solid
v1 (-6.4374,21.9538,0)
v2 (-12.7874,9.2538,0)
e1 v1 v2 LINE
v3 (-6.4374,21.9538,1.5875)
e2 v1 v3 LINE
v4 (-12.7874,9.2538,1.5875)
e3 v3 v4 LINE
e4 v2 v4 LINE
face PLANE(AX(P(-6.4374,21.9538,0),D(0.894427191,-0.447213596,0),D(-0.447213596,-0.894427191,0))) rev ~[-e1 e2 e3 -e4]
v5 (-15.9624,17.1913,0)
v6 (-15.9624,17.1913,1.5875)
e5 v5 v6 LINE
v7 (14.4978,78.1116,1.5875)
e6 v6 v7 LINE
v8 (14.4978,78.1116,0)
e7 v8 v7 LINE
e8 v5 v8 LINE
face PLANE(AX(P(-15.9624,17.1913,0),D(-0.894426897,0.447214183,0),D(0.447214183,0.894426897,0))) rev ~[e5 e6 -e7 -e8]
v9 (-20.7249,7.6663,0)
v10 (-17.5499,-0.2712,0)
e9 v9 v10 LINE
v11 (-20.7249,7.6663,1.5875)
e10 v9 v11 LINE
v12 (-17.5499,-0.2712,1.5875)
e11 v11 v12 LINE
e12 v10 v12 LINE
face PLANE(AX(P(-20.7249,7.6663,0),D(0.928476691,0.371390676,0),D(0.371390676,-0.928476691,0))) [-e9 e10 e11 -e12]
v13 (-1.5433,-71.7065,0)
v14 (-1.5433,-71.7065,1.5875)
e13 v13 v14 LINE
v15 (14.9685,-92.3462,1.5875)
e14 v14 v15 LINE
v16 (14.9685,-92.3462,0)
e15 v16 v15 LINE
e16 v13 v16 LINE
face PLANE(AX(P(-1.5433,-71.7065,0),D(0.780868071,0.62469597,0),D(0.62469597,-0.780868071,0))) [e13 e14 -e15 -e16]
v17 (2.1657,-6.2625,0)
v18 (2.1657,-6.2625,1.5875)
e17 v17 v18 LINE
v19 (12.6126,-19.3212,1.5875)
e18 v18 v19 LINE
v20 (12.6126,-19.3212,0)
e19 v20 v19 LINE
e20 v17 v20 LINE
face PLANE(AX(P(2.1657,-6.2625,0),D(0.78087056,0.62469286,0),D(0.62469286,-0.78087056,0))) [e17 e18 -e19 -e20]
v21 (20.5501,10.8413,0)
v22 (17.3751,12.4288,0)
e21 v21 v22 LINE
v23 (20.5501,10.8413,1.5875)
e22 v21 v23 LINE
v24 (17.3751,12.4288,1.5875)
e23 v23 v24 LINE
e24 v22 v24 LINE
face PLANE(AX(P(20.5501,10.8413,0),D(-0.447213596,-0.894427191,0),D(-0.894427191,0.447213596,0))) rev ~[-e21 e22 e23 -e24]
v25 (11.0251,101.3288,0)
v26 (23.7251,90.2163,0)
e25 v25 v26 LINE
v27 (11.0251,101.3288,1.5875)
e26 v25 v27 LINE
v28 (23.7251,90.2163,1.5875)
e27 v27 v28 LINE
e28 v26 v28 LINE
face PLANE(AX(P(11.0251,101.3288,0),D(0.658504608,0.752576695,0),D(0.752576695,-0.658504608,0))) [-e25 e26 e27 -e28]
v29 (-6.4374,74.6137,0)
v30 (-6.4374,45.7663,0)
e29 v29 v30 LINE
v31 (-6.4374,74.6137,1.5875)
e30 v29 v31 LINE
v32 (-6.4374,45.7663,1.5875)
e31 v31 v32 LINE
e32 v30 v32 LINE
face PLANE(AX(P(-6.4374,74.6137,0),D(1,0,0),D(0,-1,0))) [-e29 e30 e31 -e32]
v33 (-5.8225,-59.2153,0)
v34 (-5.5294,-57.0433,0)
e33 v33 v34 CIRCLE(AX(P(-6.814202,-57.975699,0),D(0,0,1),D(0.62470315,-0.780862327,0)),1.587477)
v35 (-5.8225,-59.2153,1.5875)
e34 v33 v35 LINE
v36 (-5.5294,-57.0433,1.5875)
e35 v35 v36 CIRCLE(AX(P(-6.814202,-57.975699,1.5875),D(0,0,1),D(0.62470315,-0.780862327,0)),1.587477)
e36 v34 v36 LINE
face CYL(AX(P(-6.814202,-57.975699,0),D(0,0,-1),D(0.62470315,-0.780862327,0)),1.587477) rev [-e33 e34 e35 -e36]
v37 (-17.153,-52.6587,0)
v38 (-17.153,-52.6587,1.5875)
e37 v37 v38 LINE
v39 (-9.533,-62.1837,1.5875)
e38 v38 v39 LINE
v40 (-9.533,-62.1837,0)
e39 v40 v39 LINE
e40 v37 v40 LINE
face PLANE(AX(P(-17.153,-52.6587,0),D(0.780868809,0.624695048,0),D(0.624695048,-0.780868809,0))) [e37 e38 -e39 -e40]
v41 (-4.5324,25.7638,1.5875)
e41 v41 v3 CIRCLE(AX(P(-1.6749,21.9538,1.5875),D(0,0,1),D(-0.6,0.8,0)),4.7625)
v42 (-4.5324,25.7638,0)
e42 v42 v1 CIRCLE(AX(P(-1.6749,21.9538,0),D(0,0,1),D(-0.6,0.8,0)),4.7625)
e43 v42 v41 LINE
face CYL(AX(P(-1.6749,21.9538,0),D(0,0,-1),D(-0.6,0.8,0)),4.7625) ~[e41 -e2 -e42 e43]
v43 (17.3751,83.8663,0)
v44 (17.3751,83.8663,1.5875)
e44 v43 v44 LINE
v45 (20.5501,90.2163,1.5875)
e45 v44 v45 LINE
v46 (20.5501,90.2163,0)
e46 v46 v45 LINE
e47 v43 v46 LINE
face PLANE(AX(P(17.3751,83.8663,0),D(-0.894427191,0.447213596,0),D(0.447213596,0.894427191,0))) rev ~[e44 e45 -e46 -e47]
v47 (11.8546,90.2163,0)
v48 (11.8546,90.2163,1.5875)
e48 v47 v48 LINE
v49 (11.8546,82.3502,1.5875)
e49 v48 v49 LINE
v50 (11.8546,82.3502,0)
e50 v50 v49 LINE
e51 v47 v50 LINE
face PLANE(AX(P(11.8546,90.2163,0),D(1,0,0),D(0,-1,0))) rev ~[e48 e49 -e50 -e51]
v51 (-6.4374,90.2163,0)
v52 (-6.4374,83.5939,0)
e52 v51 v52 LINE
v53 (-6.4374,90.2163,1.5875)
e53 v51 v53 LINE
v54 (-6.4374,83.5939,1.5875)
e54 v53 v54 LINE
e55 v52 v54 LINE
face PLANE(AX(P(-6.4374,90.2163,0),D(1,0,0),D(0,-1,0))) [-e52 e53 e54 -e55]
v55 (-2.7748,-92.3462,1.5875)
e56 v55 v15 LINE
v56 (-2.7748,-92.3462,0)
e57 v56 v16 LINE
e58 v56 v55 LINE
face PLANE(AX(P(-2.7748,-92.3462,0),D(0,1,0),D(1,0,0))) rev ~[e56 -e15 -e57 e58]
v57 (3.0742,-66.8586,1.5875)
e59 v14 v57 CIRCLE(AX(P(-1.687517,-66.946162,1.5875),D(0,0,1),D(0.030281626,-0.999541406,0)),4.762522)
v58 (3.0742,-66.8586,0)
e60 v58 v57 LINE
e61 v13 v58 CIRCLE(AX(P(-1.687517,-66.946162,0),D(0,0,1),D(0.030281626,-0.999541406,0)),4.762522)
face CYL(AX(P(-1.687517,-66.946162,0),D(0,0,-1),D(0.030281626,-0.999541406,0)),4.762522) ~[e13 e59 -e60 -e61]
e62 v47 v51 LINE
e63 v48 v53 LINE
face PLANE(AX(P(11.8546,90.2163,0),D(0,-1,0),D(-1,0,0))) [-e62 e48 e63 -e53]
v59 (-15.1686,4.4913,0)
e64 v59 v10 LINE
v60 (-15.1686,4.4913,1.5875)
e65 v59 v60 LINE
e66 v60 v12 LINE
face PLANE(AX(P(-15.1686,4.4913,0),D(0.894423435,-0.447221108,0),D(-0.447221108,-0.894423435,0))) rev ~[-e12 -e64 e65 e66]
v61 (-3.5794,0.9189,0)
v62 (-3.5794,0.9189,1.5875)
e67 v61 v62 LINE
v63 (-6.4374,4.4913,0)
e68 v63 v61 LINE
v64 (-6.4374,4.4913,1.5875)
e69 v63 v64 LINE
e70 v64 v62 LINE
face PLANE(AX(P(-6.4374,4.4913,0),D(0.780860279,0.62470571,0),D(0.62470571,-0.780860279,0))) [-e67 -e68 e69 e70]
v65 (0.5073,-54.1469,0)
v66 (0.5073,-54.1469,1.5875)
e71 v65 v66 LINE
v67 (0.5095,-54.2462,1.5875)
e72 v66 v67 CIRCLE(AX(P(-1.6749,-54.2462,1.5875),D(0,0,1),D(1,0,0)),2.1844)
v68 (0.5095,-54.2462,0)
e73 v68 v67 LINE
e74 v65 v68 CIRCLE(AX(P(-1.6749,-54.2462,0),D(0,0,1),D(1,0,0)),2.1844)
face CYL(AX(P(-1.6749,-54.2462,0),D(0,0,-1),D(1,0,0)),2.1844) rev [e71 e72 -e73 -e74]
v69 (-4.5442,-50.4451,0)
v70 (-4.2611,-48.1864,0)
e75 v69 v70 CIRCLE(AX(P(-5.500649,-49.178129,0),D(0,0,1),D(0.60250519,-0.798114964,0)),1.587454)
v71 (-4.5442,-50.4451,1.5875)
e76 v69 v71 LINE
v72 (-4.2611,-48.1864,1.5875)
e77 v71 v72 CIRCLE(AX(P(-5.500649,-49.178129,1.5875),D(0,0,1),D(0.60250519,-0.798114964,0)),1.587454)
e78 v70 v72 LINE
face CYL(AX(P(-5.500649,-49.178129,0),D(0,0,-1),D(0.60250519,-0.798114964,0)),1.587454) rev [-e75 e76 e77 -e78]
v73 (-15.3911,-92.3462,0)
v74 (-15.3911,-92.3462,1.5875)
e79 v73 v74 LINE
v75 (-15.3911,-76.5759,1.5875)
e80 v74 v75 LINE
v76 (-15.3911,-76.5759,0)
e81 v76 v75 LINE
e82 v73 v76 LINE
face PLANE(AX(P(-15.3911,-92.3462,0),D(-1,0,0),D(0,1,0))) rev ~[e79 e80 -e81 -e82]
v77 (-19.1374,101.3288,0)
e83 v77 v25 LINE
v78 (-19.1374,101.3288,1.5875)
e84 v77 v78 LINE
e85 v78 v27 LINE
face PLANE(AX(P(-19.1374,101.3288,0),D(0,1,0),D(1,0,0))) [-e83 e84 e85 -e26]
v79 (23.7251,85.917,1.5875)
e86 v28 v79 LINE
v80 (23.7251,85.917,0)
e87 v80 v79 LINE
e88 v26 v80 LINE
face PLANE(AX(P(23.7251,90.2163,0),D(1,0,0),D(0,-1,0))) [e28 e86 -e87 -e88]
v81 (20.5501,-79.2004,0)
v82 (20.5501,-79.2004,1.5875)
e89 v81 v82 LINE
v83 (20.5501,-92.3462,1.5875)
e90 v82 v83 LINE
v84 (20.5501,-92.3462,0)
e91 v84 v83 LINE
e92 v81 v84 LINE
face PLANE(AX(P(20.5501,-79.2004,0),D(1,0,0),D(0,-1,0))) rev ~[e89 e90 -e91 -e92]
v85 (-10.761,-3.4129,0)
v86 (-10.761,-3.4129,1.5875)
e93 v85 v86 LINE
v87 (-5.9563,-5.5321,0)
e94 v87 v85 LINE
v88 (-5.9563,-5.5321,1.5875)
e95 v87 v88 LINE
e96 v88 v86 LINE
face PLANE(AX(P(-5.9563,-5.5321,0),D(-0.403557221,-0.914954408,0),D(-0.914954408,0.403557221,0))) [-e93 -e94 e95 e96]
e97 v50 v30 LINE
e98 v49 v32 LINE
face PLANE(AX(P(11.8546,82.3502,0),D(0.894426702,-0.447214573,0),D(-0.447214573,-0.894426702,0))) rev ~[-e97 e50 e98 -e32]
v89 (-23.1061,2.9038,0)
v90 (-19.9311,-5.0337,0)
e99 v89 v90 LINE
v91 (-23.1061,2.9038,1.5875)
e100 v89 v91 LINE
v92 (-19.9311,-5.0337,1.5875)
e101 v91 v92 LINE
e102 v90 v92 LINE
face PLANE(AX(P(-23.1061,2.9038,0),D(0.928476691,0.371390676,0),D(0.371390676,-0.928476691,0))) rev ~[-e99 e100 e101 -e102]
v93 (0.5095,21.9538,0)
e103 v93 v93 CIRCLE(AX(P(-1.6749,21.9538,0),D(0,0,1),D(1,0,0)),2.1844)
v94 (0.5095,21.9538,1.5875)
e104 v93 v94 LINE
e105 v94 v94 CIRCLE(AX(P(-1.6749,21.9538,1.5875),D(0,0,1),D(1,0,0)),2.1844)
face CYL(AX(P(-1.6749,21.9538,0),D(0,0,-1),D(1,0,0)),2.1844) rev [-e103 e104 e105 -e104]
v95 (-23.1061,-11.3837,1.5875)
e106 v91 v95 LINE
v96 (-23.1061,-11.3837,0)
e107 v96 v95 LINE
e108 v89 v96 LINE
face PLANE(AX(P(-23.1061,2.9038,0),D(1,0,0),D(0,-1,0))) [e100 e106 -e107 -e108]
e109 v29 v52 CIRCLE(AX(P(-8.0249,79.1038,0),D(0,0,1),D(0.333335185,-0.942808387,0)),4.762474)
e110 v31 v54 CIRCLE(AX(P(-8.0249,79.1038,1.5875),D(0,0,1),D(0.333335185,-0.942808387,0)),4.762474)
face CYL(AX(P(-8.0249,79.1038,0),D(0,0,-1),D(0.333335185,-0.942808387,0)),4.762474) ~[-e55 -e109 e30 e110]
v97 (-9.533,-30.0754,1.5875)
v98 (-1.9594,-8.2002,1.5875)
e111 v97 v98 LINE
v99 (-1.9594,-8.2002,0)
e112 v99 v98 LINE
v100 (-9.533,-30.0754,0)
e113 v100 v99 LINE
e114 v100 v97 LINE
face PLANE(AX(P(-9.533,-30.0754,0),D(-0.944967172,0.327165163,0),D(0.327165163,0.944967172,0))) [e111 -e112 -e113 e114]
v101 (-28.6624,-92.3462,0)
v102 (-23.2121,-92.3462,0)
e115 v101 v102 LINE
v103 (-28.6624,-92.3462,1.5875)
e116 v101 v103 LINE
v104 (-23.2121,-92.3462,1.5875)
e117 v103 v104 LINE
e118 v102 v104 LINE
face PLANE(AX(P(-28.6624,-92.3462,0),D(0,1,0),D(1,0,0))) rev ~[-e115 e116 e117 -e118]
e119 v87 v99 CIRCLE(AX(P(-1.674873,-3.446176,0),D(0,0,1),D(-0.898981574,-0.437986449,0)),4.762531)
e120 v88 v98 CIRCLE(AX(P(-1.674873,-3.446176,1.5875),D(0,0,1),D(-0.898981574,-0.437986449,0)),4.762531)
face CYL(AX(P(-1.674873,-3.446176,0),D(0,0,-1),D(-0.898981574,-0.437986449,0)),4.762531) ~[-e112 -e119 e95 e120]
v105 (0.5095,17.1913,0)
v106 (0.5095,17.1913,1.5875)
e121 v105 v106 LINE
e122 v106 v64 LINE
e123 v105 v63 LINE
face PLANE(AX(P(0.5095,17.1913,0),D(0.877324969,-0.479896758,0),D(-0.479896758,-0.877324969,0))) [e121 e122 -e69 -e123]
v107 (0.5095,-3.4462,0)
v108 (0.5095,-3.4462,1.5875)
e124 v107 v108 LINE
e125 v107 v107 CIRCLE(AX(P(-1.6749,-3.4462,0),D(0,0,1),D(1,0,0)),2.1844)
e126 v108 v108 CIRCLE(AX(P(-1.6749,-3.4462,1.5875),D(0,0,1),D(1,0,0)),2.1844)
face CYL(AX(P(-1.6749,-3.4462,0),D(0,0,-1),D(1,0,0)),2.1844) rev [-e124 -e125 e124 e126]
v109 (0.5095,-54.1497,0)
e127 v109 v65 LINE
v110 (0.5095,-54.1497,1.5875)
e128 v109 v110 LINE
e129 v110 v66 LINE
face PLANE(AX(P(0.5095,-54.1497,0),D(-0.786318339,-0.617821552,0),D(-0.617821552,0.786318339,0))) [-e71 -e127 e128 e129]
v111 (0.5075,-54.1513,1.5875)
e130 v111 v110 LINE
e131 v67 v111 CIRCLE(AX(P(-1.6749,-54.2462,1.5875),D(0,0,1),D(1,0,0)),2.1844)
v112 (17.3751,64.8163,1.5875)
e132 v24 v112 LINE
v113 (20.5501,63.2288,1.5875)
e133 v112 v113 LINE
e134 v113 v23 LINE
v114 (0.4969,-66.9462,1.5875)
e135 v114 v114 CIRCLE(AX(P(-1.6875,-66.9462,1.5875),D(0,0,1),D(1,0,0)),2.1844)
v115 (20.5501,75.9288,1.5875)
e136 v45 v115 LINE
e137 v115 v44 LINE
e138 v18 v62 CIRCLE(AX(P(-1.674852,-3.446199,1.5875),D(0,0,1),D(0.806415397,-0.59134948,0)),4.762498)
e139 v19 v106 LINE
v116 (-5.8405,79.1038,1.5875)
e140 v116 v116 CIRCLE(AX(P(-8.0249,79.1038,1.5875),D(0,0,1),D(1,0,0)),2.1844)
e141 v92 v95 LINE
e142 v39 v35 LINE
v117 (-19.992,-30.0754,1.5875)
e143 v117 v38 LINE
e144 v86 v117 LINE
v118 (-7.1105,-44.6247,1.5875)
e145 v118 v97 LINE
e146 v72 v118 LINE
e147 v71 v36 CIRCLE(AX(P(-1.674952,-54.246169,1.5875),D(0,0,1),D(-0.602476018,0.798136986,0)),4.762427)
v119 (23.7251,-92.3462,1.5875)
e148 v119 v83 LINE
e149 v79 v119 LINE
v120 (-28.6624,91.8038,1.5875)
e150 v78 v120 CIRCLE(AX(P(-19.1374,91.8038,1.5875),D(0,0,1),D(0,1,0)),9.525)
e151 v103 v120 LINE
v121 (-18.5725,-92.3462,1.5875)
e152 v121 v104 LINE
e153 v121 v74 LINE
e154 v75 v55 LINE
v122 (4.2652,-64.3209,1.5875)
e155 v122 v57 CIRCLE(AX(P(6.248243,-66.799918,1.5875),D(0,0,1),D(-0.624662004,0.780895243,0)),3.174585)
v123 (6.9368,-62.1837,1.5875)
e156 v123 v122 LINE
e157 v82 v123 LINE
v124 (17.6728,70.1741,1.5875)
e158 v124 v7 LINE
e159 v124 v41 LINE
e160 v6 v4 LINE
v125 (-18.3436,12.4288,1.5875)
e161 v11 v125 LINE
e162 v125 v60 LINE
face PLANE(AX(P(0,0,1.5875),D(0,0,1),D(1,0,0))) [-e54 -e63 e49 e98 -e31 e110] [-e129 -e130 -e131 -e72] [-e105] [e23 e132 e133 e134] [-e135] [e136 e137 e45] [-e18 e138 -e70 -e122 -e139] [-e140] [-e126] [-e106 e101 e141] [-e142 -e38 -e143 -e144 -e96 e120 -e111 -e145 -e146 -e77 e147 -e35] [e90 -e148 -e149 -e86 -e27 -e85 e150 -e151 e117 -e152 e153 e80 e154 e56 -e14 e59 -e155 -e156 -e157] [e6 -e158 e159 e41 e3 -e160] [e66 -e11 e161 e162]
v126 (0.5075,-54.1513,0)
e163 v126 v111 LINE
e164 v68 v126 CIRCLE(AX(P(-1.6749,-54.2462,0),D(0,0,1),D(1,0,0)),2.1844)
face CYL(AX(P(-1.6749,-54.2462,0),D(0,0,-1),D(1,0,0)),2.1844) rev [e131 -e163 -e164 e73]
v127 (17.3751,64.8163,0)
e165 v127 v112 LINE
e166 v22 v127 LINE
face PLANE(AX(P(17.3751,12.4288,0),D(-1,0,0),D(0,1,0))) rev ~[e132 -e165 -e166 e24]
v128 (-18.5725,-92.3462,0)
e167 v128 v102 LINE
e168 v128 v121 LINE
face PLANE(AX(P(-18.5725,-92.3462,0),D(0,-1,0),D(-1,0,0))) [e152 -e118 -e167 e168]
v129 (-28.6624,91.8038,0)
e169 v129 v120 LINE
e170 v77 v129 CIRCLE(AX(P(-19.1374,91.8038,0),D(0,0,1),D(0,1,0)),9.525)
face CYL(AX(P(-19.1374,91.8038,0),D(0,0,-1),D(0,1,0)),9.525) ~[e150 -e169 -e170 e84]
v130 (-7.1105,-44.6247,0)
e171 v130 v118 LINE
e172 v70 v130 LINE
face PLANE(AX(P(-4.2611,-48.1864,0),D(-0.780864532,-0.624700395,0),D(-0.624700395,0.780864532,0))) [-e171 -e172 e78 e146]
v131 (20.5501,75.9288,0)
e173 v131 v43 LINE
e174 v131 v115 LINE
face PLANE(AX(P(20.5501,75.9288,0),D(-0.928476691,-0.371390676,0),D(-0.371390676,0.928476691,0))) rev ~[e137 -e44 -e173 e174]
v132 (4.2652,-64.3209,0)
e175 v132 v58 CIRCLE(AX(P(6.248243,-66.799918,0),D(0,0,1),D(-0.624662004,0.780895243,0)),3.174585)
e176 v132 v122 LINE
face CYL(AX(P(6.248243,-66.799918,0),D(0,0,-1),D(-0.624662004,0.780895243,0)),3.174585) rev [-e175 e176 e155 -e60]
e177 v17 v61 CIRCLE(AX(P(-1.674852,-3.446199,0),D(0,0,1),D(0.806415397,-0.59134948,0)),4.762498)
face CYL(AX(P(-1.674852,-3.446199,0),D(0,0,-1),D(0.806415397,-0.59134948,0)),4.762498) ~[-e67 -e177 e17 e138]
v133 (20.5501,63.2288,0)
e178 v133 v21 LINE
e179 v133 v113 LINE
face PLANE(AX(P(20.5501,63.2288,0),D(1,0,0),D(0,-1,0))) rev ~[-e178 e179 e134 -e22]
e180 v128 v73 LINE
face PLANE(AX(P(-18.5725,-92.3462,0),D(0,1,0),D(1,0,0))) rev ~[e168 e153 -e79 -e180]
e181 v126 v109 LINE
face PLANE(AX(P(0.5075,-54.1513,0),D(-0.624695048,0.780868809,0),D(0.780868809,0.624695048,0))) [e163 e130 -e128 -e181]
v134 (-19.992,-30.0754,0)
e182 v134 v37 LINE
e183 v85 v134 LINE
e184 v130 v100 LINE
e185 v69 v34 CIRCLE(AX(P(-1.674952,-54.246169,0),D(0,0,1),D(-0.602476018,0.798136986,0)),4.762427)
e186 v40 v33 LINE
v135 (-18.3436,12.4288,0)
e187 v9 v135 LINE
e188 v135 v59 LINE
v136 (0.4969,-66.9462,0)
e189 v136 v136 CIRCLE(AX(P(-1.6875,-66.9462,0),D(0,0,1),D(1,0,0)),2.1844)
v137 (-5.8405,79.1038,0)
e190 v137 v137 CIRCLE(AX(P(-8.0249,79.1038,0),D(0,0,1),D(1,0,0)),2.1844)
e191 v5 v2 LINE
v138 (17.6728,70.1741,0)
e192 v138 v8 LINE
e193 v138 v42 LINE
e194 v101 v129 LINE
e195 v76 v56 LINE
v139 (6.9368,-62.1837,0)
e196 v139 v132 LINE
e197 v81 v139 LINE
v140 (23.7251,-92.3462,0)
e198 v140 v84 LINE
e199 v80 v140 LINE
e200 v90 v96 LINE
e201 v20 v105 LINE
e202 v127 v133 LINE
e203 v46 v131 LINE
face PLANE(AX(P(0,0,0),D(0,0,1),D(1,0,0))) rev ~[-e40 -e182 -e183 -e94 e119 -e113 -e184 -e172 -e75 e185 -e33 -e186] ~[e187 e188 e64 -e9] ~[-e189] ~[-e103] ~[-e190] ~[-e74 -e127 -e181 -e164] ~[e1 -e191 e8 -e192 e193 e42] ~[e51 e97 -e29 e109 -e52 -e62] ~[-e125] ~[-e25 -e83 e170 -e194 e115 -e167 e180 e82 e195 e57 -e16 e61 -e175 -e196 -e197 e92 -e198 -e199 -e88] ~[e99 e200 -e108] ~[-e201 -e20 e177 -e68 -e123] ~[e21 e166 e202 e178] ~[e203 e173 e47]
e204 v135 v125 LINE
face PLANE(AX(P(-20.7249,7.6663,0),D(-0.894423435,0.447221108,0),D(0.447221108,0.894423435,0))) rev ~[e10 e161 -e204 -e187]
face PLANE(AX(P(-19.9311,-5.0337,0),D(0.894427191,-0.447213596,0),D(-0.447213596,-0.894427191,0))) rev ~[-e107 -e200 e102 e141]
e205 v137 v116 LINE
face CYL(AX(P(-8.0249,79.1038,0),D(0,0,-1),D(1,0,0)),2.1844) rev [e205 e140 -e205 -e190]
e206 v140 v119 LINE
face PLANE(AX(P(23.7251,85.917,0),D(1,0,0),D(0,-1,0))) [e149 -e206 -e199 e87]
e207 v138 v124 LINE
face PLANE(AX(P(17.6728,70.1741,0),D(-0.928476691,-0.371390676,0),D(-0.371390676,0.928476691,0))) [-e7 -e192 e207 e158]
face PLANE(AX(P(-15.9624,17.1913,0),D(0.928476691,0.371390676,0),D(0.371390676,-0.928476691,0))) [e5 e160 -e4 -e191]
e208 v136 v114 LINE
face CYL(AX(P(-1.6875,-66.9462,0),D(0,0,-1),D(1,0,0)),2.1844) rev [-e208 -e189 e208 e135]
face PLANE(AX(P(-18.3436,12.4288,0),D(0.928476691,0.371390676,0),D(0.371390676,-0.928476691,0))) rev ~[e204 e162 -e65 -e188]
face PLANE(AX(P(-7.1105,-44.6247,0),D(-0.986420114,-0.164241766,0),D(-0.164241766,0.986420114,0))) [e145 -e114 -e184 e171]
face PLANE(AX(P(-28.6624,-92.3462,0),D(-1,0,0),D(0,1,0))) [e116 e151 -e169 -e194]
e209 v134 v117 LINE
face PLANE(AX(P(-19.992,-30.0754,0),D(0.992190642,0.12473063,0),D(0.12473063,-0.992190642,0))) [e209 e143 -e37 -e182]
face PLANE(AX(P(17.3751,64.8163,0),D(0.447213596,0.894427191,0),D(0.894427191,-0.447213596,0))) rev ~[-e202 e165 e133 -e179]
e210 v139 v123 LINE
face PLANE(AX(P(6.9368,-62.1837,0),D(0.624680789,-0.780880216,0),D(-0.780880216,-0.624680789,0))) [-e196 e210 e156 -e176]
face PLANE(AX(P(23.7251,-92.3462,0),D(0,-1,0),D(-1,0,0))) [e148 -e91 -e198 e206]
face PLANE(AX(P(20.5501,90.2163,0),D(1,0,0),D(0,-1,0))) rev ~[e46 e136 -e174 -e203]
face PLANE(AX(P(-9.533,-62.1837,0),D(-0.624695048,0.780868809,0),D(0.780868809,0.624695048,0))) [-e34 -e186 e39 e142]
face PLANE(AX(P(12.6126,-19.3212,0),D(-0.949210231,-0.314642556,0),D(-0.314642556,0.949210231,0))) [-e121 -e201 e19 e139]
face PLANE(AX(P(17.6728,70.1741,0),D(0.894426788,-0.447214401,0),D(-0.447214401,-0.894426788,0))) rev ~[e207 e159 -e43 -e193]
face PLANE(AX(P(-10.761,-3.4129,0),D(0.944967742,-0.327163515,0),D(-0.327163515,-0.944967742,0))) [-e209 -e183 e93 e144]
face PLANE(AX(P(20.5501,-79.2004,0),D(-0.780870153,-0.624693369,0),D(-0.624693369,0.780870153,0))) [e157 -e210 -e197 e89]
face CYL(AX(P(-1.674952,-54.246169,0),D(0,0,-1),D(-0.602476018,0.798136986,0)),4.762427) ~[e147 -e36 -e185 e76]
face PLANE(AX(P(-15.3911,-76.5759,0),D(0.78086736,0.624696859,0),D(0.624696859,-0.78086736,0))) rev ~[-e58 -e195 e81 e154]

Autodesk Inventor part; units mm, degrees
ref_plane "YZ Plane" through (0, 0, 0) normal (1, 0, 0) x (0, 1, 0)
ref_plane "XZ Plane" through (0, 0, 0) normal (0, 1, 0) x (-1, 0, 0)
ref_plane "XY Plane" through (0, 0, 0) normal (0, 0, 1) x (1, 0, 0)
sketch "Sketch1" plane through (0, 0, 0) normal (0, 0, 1) x (1, 0, 0)
  circle A0 centre (-1.6749, 21.9538) radius 2.1844
  circle A1 centre (-1.6749, -3.4462) radius 2.1844
  line L0 (23.7251, 85.917) -> (23.7251, -92.3462)
  line L1 (-28.6624, -92.3462) -> (-28.6624, 91.8038)
  line L2 (17.3751, 64.8163) -> (20.5501, 63.2288)
  line L3 (20.5501, 63.2288) -> (20.5501, 10.8413)
  line L4 (20.5501, 10.8413) -> (17.3751, 12.4288)
  line L5 (17.3751, 12.4288) -> (17.3751, 64.8163)
  line L6 (20.5501, 75.9288) -> (17.3751, 83.8663)
  line L7 (20.5501, 90.2163) -> (20.5501, 75.9288)
  line L8 (17.6728, 70.1741) -> (14.4978, 78.1116)
  line L9 (17.3751, 83.8663) -> (20.5501, 90.2163)
  line L10 (-18.3436, 12.4288) -> (-15.1686, 4.4913)
  line L11 (-15.9624, 17.1913) -> (-12.7874, 9.2538)
  line L12 (-15.9624, 17.1913) -> (14.4978, 78.1116)
  line L13 (-23.1061, 2.9038) -> (-19.9311, -5.0337)
  line L14 (-23.1061, 2.9038) -> (-23.1061, -11.3837)
  line L15 (-20.7249, 7.6663) -> (-18.3436, 12.4288)
  line L16 (-15.1686, 4.4913) -> (-17.5499, -0.2712)
  line L17 (-19.9311, -5.0337) -> (-23.1061, -11.3837)
  line L18 (11.8546, 90.2163) -> (11.8546, 82.3502)
  line L19 (11.8546, 90.2163) -> (-6.4374, 90.2163)
  line L20 (11.8546, 82.3502) -> (-6.4374, 45.7663)
  line L21 (0.5095, 17.1913) -> (-6.4374, 4.4913)
  line L22 (12.6126, -19.3212) -> (0.5095, 17.1913)
  line L23 (-10.761, -3.4129) -> (-19.992, -30.0754)
  line L24 (-19.992, -30.0754) -> (-17.153, -52.6587)
  line L25 (-17.153, -52.6587) -> (-9.533, -62.1837)
  line L26 (-7.1105, -44.6247) -> (-9.533, -30.0754)
  line L27 (-9.533, -30.0754) -> (-1.9594, -8.2002)
  line L28 (-5.9563, -5.5321) -> (-10.761, -3.4129)
  line L29 (20.5501, -79.2004) -> (20.5501, -92.3462)
  line L30 (6.9368, -62.1837) -> (4.2652, -64.3209)
  line L31 (-1.5433, -71.7065) -> (14.9685, -92.3462)
  arc A2 (-1.5433, -71.7065) -> (3.0742, -66.8586) centre (-1.6875, -66.9462) ccw
  circle A3 centre (-1.6875, -66.9462) radius 2.1844
  arc A4 (4.2652, -64.3209) -> (3.0742, -66.8586) centre (6.2486, -66.8002) ccw
  line L32 (20.5501, -79.2004) -> (6.9368, -62.1837)
  line L33 (23.7251, -92.3462) -> (20.5501, -92.3462)
  circle A5 centre (-1.6749, -54.2462) radius 2.1844
  arc A6 (-4.5442, -50.4451) -> (-5.5294, -57.0433) centre (-1.6749, -54.2462) ccw
  line L34 (-9.533, -62.1837) -> (-5.8225, -59.2153)
  line L35 (0.5075, -54.1513) -> (0.5095, -54.1497)
  line L36 (0.5095, -54.1497) -> (0.5073, -54.1469)
  line L37 (-4.2611, -48.1864) -> (-7.1105, -44.6247)
  arc A7 (-4.5442, -50.4451) -> (-4.2611, -48.1864) centre (-5.5007, -49.1781) ccw
  arc A8 (-5.8225, -59.2153) -> (-5.5294, -57.0433) centre (-6.8142, -57.9757) ccw
  arc A9 (-4.5324, 25.7638) -> (-6.4374, 21.9538) centre (-1.6749, 21.9538) ccw
  line L38 (17.6728, 70.1741) -> (-4.5324, 25.7638)
  line L39 (-6.4374, 21.9538) -> (-12.7874, 9.2538)
  line L40 (-6.4374, 4.4913) -> (-3.5794, 0.9189)
  line L41 (2.1657, -6.2625) -> (12.6126, -19.3212)
  arc A10 (2.1657, -6.2625) -> (-3.5794, 0.9189) centre (-1.6749, -3.4462) ccw
  arc A11 (-5.9563, -5.5321) -> (-1.9594, -8.2002) centre (-1.6749, -3.4462) ccw
  line L42 (14.9685, -92.3462) -> (44.3118, -92.3462) construction
  line L43 (-2.7748, -92.3462) -> (14.9685, -92.3462)
  line L44 (-28.6624, -92.3462) -> (-23.2121, -92.3462)
  line L45 (-18.5725, -92.3462) -> (-28.6624, -92.3462)
  line L46 (-20.7249, 7.6663) -> (-17.5499, -0.2712)
  line L47 (-28.6624, 98.1538) -> (-28.6624, 101.3288)
  line L48 (-19.1374, 101.3288) -> (11.0251, 101.3288)
  line L49 (23.7251, 90.2163) -> (23.7251, 85.917)
  line L50 (11.0251, 101.3288) -> (23.7251, 90.2163)
  arc A12 (-19.1374, 101.3288) -> (-28.6624, 91.8038) centre (-19.1374, 91.8038) ccw
  arc A13 (-6.4374, 74.6137) -> (-6.4374, 83.5939) centre (-8.0249, 79.1038) ccw
  circle A14 centre (-8.0249, 79.1038) radius 2.1844
  line L51 (-6.4374, 90.2163) -> (-6.4374, 83.5939)
  line L52 (-6.4374, 74.6137) -> (-6.4374, 45.7663)
  line L53 (-18.5725, -92.3462) -> (-15.3911, -92.3462)
  line L54 (-15.3911, -92.3462) -> (-15.3911, -76.5759)
  line L55 (-15.3911, -76.5759) -> (-2.7748, -92.3462)
  point P0 (0, 0)
  point P1 (2.838, -65.4627)
  point P2 (-4.4495, -58.1169)
  point P3 (-3.0588, -49.6892)
  dimension "d0" = 4.3688
  dimension "d1" = 4.3688
  dimension "d3" = 9.525
  dimension "d4" = 4.3688
  dimension "d5" = 3.175
  dimension "d6" = 9.525
  dimension "d7" = 1.5875
  dimension "d8" = 9.525
  dimension "d14" = 3.175
  dimension "d15" = 9.525
  dimension "d18" = 9.525
  dimension "d19" = 4.3688
  dimension "d20" = 3.1814
extrude "Extrusion1" add sketch "Sketch1" along normal blind 1.5875
equation "\"BendRadius\" = Thickness"
equation "\"BendReliefWidth\" = Thickness"
equation "\"BendReliefDepth\" = 0.5 * Thickness"
equation "\"CornerReliefSize\" = 4 * Thickness"
equation "\"MinimumRemnant\" = 2 * Thickness"
equation "\"TransitionRadius\" = BendRadius"
equation "\"JacobiRadiusSize\" = BendRadius"
equation "\"GapSize\" = Thickness"
equation "\"Thickness\" = 1.5875"
properties part number "sideplate" material "Acetal Resin, White"
